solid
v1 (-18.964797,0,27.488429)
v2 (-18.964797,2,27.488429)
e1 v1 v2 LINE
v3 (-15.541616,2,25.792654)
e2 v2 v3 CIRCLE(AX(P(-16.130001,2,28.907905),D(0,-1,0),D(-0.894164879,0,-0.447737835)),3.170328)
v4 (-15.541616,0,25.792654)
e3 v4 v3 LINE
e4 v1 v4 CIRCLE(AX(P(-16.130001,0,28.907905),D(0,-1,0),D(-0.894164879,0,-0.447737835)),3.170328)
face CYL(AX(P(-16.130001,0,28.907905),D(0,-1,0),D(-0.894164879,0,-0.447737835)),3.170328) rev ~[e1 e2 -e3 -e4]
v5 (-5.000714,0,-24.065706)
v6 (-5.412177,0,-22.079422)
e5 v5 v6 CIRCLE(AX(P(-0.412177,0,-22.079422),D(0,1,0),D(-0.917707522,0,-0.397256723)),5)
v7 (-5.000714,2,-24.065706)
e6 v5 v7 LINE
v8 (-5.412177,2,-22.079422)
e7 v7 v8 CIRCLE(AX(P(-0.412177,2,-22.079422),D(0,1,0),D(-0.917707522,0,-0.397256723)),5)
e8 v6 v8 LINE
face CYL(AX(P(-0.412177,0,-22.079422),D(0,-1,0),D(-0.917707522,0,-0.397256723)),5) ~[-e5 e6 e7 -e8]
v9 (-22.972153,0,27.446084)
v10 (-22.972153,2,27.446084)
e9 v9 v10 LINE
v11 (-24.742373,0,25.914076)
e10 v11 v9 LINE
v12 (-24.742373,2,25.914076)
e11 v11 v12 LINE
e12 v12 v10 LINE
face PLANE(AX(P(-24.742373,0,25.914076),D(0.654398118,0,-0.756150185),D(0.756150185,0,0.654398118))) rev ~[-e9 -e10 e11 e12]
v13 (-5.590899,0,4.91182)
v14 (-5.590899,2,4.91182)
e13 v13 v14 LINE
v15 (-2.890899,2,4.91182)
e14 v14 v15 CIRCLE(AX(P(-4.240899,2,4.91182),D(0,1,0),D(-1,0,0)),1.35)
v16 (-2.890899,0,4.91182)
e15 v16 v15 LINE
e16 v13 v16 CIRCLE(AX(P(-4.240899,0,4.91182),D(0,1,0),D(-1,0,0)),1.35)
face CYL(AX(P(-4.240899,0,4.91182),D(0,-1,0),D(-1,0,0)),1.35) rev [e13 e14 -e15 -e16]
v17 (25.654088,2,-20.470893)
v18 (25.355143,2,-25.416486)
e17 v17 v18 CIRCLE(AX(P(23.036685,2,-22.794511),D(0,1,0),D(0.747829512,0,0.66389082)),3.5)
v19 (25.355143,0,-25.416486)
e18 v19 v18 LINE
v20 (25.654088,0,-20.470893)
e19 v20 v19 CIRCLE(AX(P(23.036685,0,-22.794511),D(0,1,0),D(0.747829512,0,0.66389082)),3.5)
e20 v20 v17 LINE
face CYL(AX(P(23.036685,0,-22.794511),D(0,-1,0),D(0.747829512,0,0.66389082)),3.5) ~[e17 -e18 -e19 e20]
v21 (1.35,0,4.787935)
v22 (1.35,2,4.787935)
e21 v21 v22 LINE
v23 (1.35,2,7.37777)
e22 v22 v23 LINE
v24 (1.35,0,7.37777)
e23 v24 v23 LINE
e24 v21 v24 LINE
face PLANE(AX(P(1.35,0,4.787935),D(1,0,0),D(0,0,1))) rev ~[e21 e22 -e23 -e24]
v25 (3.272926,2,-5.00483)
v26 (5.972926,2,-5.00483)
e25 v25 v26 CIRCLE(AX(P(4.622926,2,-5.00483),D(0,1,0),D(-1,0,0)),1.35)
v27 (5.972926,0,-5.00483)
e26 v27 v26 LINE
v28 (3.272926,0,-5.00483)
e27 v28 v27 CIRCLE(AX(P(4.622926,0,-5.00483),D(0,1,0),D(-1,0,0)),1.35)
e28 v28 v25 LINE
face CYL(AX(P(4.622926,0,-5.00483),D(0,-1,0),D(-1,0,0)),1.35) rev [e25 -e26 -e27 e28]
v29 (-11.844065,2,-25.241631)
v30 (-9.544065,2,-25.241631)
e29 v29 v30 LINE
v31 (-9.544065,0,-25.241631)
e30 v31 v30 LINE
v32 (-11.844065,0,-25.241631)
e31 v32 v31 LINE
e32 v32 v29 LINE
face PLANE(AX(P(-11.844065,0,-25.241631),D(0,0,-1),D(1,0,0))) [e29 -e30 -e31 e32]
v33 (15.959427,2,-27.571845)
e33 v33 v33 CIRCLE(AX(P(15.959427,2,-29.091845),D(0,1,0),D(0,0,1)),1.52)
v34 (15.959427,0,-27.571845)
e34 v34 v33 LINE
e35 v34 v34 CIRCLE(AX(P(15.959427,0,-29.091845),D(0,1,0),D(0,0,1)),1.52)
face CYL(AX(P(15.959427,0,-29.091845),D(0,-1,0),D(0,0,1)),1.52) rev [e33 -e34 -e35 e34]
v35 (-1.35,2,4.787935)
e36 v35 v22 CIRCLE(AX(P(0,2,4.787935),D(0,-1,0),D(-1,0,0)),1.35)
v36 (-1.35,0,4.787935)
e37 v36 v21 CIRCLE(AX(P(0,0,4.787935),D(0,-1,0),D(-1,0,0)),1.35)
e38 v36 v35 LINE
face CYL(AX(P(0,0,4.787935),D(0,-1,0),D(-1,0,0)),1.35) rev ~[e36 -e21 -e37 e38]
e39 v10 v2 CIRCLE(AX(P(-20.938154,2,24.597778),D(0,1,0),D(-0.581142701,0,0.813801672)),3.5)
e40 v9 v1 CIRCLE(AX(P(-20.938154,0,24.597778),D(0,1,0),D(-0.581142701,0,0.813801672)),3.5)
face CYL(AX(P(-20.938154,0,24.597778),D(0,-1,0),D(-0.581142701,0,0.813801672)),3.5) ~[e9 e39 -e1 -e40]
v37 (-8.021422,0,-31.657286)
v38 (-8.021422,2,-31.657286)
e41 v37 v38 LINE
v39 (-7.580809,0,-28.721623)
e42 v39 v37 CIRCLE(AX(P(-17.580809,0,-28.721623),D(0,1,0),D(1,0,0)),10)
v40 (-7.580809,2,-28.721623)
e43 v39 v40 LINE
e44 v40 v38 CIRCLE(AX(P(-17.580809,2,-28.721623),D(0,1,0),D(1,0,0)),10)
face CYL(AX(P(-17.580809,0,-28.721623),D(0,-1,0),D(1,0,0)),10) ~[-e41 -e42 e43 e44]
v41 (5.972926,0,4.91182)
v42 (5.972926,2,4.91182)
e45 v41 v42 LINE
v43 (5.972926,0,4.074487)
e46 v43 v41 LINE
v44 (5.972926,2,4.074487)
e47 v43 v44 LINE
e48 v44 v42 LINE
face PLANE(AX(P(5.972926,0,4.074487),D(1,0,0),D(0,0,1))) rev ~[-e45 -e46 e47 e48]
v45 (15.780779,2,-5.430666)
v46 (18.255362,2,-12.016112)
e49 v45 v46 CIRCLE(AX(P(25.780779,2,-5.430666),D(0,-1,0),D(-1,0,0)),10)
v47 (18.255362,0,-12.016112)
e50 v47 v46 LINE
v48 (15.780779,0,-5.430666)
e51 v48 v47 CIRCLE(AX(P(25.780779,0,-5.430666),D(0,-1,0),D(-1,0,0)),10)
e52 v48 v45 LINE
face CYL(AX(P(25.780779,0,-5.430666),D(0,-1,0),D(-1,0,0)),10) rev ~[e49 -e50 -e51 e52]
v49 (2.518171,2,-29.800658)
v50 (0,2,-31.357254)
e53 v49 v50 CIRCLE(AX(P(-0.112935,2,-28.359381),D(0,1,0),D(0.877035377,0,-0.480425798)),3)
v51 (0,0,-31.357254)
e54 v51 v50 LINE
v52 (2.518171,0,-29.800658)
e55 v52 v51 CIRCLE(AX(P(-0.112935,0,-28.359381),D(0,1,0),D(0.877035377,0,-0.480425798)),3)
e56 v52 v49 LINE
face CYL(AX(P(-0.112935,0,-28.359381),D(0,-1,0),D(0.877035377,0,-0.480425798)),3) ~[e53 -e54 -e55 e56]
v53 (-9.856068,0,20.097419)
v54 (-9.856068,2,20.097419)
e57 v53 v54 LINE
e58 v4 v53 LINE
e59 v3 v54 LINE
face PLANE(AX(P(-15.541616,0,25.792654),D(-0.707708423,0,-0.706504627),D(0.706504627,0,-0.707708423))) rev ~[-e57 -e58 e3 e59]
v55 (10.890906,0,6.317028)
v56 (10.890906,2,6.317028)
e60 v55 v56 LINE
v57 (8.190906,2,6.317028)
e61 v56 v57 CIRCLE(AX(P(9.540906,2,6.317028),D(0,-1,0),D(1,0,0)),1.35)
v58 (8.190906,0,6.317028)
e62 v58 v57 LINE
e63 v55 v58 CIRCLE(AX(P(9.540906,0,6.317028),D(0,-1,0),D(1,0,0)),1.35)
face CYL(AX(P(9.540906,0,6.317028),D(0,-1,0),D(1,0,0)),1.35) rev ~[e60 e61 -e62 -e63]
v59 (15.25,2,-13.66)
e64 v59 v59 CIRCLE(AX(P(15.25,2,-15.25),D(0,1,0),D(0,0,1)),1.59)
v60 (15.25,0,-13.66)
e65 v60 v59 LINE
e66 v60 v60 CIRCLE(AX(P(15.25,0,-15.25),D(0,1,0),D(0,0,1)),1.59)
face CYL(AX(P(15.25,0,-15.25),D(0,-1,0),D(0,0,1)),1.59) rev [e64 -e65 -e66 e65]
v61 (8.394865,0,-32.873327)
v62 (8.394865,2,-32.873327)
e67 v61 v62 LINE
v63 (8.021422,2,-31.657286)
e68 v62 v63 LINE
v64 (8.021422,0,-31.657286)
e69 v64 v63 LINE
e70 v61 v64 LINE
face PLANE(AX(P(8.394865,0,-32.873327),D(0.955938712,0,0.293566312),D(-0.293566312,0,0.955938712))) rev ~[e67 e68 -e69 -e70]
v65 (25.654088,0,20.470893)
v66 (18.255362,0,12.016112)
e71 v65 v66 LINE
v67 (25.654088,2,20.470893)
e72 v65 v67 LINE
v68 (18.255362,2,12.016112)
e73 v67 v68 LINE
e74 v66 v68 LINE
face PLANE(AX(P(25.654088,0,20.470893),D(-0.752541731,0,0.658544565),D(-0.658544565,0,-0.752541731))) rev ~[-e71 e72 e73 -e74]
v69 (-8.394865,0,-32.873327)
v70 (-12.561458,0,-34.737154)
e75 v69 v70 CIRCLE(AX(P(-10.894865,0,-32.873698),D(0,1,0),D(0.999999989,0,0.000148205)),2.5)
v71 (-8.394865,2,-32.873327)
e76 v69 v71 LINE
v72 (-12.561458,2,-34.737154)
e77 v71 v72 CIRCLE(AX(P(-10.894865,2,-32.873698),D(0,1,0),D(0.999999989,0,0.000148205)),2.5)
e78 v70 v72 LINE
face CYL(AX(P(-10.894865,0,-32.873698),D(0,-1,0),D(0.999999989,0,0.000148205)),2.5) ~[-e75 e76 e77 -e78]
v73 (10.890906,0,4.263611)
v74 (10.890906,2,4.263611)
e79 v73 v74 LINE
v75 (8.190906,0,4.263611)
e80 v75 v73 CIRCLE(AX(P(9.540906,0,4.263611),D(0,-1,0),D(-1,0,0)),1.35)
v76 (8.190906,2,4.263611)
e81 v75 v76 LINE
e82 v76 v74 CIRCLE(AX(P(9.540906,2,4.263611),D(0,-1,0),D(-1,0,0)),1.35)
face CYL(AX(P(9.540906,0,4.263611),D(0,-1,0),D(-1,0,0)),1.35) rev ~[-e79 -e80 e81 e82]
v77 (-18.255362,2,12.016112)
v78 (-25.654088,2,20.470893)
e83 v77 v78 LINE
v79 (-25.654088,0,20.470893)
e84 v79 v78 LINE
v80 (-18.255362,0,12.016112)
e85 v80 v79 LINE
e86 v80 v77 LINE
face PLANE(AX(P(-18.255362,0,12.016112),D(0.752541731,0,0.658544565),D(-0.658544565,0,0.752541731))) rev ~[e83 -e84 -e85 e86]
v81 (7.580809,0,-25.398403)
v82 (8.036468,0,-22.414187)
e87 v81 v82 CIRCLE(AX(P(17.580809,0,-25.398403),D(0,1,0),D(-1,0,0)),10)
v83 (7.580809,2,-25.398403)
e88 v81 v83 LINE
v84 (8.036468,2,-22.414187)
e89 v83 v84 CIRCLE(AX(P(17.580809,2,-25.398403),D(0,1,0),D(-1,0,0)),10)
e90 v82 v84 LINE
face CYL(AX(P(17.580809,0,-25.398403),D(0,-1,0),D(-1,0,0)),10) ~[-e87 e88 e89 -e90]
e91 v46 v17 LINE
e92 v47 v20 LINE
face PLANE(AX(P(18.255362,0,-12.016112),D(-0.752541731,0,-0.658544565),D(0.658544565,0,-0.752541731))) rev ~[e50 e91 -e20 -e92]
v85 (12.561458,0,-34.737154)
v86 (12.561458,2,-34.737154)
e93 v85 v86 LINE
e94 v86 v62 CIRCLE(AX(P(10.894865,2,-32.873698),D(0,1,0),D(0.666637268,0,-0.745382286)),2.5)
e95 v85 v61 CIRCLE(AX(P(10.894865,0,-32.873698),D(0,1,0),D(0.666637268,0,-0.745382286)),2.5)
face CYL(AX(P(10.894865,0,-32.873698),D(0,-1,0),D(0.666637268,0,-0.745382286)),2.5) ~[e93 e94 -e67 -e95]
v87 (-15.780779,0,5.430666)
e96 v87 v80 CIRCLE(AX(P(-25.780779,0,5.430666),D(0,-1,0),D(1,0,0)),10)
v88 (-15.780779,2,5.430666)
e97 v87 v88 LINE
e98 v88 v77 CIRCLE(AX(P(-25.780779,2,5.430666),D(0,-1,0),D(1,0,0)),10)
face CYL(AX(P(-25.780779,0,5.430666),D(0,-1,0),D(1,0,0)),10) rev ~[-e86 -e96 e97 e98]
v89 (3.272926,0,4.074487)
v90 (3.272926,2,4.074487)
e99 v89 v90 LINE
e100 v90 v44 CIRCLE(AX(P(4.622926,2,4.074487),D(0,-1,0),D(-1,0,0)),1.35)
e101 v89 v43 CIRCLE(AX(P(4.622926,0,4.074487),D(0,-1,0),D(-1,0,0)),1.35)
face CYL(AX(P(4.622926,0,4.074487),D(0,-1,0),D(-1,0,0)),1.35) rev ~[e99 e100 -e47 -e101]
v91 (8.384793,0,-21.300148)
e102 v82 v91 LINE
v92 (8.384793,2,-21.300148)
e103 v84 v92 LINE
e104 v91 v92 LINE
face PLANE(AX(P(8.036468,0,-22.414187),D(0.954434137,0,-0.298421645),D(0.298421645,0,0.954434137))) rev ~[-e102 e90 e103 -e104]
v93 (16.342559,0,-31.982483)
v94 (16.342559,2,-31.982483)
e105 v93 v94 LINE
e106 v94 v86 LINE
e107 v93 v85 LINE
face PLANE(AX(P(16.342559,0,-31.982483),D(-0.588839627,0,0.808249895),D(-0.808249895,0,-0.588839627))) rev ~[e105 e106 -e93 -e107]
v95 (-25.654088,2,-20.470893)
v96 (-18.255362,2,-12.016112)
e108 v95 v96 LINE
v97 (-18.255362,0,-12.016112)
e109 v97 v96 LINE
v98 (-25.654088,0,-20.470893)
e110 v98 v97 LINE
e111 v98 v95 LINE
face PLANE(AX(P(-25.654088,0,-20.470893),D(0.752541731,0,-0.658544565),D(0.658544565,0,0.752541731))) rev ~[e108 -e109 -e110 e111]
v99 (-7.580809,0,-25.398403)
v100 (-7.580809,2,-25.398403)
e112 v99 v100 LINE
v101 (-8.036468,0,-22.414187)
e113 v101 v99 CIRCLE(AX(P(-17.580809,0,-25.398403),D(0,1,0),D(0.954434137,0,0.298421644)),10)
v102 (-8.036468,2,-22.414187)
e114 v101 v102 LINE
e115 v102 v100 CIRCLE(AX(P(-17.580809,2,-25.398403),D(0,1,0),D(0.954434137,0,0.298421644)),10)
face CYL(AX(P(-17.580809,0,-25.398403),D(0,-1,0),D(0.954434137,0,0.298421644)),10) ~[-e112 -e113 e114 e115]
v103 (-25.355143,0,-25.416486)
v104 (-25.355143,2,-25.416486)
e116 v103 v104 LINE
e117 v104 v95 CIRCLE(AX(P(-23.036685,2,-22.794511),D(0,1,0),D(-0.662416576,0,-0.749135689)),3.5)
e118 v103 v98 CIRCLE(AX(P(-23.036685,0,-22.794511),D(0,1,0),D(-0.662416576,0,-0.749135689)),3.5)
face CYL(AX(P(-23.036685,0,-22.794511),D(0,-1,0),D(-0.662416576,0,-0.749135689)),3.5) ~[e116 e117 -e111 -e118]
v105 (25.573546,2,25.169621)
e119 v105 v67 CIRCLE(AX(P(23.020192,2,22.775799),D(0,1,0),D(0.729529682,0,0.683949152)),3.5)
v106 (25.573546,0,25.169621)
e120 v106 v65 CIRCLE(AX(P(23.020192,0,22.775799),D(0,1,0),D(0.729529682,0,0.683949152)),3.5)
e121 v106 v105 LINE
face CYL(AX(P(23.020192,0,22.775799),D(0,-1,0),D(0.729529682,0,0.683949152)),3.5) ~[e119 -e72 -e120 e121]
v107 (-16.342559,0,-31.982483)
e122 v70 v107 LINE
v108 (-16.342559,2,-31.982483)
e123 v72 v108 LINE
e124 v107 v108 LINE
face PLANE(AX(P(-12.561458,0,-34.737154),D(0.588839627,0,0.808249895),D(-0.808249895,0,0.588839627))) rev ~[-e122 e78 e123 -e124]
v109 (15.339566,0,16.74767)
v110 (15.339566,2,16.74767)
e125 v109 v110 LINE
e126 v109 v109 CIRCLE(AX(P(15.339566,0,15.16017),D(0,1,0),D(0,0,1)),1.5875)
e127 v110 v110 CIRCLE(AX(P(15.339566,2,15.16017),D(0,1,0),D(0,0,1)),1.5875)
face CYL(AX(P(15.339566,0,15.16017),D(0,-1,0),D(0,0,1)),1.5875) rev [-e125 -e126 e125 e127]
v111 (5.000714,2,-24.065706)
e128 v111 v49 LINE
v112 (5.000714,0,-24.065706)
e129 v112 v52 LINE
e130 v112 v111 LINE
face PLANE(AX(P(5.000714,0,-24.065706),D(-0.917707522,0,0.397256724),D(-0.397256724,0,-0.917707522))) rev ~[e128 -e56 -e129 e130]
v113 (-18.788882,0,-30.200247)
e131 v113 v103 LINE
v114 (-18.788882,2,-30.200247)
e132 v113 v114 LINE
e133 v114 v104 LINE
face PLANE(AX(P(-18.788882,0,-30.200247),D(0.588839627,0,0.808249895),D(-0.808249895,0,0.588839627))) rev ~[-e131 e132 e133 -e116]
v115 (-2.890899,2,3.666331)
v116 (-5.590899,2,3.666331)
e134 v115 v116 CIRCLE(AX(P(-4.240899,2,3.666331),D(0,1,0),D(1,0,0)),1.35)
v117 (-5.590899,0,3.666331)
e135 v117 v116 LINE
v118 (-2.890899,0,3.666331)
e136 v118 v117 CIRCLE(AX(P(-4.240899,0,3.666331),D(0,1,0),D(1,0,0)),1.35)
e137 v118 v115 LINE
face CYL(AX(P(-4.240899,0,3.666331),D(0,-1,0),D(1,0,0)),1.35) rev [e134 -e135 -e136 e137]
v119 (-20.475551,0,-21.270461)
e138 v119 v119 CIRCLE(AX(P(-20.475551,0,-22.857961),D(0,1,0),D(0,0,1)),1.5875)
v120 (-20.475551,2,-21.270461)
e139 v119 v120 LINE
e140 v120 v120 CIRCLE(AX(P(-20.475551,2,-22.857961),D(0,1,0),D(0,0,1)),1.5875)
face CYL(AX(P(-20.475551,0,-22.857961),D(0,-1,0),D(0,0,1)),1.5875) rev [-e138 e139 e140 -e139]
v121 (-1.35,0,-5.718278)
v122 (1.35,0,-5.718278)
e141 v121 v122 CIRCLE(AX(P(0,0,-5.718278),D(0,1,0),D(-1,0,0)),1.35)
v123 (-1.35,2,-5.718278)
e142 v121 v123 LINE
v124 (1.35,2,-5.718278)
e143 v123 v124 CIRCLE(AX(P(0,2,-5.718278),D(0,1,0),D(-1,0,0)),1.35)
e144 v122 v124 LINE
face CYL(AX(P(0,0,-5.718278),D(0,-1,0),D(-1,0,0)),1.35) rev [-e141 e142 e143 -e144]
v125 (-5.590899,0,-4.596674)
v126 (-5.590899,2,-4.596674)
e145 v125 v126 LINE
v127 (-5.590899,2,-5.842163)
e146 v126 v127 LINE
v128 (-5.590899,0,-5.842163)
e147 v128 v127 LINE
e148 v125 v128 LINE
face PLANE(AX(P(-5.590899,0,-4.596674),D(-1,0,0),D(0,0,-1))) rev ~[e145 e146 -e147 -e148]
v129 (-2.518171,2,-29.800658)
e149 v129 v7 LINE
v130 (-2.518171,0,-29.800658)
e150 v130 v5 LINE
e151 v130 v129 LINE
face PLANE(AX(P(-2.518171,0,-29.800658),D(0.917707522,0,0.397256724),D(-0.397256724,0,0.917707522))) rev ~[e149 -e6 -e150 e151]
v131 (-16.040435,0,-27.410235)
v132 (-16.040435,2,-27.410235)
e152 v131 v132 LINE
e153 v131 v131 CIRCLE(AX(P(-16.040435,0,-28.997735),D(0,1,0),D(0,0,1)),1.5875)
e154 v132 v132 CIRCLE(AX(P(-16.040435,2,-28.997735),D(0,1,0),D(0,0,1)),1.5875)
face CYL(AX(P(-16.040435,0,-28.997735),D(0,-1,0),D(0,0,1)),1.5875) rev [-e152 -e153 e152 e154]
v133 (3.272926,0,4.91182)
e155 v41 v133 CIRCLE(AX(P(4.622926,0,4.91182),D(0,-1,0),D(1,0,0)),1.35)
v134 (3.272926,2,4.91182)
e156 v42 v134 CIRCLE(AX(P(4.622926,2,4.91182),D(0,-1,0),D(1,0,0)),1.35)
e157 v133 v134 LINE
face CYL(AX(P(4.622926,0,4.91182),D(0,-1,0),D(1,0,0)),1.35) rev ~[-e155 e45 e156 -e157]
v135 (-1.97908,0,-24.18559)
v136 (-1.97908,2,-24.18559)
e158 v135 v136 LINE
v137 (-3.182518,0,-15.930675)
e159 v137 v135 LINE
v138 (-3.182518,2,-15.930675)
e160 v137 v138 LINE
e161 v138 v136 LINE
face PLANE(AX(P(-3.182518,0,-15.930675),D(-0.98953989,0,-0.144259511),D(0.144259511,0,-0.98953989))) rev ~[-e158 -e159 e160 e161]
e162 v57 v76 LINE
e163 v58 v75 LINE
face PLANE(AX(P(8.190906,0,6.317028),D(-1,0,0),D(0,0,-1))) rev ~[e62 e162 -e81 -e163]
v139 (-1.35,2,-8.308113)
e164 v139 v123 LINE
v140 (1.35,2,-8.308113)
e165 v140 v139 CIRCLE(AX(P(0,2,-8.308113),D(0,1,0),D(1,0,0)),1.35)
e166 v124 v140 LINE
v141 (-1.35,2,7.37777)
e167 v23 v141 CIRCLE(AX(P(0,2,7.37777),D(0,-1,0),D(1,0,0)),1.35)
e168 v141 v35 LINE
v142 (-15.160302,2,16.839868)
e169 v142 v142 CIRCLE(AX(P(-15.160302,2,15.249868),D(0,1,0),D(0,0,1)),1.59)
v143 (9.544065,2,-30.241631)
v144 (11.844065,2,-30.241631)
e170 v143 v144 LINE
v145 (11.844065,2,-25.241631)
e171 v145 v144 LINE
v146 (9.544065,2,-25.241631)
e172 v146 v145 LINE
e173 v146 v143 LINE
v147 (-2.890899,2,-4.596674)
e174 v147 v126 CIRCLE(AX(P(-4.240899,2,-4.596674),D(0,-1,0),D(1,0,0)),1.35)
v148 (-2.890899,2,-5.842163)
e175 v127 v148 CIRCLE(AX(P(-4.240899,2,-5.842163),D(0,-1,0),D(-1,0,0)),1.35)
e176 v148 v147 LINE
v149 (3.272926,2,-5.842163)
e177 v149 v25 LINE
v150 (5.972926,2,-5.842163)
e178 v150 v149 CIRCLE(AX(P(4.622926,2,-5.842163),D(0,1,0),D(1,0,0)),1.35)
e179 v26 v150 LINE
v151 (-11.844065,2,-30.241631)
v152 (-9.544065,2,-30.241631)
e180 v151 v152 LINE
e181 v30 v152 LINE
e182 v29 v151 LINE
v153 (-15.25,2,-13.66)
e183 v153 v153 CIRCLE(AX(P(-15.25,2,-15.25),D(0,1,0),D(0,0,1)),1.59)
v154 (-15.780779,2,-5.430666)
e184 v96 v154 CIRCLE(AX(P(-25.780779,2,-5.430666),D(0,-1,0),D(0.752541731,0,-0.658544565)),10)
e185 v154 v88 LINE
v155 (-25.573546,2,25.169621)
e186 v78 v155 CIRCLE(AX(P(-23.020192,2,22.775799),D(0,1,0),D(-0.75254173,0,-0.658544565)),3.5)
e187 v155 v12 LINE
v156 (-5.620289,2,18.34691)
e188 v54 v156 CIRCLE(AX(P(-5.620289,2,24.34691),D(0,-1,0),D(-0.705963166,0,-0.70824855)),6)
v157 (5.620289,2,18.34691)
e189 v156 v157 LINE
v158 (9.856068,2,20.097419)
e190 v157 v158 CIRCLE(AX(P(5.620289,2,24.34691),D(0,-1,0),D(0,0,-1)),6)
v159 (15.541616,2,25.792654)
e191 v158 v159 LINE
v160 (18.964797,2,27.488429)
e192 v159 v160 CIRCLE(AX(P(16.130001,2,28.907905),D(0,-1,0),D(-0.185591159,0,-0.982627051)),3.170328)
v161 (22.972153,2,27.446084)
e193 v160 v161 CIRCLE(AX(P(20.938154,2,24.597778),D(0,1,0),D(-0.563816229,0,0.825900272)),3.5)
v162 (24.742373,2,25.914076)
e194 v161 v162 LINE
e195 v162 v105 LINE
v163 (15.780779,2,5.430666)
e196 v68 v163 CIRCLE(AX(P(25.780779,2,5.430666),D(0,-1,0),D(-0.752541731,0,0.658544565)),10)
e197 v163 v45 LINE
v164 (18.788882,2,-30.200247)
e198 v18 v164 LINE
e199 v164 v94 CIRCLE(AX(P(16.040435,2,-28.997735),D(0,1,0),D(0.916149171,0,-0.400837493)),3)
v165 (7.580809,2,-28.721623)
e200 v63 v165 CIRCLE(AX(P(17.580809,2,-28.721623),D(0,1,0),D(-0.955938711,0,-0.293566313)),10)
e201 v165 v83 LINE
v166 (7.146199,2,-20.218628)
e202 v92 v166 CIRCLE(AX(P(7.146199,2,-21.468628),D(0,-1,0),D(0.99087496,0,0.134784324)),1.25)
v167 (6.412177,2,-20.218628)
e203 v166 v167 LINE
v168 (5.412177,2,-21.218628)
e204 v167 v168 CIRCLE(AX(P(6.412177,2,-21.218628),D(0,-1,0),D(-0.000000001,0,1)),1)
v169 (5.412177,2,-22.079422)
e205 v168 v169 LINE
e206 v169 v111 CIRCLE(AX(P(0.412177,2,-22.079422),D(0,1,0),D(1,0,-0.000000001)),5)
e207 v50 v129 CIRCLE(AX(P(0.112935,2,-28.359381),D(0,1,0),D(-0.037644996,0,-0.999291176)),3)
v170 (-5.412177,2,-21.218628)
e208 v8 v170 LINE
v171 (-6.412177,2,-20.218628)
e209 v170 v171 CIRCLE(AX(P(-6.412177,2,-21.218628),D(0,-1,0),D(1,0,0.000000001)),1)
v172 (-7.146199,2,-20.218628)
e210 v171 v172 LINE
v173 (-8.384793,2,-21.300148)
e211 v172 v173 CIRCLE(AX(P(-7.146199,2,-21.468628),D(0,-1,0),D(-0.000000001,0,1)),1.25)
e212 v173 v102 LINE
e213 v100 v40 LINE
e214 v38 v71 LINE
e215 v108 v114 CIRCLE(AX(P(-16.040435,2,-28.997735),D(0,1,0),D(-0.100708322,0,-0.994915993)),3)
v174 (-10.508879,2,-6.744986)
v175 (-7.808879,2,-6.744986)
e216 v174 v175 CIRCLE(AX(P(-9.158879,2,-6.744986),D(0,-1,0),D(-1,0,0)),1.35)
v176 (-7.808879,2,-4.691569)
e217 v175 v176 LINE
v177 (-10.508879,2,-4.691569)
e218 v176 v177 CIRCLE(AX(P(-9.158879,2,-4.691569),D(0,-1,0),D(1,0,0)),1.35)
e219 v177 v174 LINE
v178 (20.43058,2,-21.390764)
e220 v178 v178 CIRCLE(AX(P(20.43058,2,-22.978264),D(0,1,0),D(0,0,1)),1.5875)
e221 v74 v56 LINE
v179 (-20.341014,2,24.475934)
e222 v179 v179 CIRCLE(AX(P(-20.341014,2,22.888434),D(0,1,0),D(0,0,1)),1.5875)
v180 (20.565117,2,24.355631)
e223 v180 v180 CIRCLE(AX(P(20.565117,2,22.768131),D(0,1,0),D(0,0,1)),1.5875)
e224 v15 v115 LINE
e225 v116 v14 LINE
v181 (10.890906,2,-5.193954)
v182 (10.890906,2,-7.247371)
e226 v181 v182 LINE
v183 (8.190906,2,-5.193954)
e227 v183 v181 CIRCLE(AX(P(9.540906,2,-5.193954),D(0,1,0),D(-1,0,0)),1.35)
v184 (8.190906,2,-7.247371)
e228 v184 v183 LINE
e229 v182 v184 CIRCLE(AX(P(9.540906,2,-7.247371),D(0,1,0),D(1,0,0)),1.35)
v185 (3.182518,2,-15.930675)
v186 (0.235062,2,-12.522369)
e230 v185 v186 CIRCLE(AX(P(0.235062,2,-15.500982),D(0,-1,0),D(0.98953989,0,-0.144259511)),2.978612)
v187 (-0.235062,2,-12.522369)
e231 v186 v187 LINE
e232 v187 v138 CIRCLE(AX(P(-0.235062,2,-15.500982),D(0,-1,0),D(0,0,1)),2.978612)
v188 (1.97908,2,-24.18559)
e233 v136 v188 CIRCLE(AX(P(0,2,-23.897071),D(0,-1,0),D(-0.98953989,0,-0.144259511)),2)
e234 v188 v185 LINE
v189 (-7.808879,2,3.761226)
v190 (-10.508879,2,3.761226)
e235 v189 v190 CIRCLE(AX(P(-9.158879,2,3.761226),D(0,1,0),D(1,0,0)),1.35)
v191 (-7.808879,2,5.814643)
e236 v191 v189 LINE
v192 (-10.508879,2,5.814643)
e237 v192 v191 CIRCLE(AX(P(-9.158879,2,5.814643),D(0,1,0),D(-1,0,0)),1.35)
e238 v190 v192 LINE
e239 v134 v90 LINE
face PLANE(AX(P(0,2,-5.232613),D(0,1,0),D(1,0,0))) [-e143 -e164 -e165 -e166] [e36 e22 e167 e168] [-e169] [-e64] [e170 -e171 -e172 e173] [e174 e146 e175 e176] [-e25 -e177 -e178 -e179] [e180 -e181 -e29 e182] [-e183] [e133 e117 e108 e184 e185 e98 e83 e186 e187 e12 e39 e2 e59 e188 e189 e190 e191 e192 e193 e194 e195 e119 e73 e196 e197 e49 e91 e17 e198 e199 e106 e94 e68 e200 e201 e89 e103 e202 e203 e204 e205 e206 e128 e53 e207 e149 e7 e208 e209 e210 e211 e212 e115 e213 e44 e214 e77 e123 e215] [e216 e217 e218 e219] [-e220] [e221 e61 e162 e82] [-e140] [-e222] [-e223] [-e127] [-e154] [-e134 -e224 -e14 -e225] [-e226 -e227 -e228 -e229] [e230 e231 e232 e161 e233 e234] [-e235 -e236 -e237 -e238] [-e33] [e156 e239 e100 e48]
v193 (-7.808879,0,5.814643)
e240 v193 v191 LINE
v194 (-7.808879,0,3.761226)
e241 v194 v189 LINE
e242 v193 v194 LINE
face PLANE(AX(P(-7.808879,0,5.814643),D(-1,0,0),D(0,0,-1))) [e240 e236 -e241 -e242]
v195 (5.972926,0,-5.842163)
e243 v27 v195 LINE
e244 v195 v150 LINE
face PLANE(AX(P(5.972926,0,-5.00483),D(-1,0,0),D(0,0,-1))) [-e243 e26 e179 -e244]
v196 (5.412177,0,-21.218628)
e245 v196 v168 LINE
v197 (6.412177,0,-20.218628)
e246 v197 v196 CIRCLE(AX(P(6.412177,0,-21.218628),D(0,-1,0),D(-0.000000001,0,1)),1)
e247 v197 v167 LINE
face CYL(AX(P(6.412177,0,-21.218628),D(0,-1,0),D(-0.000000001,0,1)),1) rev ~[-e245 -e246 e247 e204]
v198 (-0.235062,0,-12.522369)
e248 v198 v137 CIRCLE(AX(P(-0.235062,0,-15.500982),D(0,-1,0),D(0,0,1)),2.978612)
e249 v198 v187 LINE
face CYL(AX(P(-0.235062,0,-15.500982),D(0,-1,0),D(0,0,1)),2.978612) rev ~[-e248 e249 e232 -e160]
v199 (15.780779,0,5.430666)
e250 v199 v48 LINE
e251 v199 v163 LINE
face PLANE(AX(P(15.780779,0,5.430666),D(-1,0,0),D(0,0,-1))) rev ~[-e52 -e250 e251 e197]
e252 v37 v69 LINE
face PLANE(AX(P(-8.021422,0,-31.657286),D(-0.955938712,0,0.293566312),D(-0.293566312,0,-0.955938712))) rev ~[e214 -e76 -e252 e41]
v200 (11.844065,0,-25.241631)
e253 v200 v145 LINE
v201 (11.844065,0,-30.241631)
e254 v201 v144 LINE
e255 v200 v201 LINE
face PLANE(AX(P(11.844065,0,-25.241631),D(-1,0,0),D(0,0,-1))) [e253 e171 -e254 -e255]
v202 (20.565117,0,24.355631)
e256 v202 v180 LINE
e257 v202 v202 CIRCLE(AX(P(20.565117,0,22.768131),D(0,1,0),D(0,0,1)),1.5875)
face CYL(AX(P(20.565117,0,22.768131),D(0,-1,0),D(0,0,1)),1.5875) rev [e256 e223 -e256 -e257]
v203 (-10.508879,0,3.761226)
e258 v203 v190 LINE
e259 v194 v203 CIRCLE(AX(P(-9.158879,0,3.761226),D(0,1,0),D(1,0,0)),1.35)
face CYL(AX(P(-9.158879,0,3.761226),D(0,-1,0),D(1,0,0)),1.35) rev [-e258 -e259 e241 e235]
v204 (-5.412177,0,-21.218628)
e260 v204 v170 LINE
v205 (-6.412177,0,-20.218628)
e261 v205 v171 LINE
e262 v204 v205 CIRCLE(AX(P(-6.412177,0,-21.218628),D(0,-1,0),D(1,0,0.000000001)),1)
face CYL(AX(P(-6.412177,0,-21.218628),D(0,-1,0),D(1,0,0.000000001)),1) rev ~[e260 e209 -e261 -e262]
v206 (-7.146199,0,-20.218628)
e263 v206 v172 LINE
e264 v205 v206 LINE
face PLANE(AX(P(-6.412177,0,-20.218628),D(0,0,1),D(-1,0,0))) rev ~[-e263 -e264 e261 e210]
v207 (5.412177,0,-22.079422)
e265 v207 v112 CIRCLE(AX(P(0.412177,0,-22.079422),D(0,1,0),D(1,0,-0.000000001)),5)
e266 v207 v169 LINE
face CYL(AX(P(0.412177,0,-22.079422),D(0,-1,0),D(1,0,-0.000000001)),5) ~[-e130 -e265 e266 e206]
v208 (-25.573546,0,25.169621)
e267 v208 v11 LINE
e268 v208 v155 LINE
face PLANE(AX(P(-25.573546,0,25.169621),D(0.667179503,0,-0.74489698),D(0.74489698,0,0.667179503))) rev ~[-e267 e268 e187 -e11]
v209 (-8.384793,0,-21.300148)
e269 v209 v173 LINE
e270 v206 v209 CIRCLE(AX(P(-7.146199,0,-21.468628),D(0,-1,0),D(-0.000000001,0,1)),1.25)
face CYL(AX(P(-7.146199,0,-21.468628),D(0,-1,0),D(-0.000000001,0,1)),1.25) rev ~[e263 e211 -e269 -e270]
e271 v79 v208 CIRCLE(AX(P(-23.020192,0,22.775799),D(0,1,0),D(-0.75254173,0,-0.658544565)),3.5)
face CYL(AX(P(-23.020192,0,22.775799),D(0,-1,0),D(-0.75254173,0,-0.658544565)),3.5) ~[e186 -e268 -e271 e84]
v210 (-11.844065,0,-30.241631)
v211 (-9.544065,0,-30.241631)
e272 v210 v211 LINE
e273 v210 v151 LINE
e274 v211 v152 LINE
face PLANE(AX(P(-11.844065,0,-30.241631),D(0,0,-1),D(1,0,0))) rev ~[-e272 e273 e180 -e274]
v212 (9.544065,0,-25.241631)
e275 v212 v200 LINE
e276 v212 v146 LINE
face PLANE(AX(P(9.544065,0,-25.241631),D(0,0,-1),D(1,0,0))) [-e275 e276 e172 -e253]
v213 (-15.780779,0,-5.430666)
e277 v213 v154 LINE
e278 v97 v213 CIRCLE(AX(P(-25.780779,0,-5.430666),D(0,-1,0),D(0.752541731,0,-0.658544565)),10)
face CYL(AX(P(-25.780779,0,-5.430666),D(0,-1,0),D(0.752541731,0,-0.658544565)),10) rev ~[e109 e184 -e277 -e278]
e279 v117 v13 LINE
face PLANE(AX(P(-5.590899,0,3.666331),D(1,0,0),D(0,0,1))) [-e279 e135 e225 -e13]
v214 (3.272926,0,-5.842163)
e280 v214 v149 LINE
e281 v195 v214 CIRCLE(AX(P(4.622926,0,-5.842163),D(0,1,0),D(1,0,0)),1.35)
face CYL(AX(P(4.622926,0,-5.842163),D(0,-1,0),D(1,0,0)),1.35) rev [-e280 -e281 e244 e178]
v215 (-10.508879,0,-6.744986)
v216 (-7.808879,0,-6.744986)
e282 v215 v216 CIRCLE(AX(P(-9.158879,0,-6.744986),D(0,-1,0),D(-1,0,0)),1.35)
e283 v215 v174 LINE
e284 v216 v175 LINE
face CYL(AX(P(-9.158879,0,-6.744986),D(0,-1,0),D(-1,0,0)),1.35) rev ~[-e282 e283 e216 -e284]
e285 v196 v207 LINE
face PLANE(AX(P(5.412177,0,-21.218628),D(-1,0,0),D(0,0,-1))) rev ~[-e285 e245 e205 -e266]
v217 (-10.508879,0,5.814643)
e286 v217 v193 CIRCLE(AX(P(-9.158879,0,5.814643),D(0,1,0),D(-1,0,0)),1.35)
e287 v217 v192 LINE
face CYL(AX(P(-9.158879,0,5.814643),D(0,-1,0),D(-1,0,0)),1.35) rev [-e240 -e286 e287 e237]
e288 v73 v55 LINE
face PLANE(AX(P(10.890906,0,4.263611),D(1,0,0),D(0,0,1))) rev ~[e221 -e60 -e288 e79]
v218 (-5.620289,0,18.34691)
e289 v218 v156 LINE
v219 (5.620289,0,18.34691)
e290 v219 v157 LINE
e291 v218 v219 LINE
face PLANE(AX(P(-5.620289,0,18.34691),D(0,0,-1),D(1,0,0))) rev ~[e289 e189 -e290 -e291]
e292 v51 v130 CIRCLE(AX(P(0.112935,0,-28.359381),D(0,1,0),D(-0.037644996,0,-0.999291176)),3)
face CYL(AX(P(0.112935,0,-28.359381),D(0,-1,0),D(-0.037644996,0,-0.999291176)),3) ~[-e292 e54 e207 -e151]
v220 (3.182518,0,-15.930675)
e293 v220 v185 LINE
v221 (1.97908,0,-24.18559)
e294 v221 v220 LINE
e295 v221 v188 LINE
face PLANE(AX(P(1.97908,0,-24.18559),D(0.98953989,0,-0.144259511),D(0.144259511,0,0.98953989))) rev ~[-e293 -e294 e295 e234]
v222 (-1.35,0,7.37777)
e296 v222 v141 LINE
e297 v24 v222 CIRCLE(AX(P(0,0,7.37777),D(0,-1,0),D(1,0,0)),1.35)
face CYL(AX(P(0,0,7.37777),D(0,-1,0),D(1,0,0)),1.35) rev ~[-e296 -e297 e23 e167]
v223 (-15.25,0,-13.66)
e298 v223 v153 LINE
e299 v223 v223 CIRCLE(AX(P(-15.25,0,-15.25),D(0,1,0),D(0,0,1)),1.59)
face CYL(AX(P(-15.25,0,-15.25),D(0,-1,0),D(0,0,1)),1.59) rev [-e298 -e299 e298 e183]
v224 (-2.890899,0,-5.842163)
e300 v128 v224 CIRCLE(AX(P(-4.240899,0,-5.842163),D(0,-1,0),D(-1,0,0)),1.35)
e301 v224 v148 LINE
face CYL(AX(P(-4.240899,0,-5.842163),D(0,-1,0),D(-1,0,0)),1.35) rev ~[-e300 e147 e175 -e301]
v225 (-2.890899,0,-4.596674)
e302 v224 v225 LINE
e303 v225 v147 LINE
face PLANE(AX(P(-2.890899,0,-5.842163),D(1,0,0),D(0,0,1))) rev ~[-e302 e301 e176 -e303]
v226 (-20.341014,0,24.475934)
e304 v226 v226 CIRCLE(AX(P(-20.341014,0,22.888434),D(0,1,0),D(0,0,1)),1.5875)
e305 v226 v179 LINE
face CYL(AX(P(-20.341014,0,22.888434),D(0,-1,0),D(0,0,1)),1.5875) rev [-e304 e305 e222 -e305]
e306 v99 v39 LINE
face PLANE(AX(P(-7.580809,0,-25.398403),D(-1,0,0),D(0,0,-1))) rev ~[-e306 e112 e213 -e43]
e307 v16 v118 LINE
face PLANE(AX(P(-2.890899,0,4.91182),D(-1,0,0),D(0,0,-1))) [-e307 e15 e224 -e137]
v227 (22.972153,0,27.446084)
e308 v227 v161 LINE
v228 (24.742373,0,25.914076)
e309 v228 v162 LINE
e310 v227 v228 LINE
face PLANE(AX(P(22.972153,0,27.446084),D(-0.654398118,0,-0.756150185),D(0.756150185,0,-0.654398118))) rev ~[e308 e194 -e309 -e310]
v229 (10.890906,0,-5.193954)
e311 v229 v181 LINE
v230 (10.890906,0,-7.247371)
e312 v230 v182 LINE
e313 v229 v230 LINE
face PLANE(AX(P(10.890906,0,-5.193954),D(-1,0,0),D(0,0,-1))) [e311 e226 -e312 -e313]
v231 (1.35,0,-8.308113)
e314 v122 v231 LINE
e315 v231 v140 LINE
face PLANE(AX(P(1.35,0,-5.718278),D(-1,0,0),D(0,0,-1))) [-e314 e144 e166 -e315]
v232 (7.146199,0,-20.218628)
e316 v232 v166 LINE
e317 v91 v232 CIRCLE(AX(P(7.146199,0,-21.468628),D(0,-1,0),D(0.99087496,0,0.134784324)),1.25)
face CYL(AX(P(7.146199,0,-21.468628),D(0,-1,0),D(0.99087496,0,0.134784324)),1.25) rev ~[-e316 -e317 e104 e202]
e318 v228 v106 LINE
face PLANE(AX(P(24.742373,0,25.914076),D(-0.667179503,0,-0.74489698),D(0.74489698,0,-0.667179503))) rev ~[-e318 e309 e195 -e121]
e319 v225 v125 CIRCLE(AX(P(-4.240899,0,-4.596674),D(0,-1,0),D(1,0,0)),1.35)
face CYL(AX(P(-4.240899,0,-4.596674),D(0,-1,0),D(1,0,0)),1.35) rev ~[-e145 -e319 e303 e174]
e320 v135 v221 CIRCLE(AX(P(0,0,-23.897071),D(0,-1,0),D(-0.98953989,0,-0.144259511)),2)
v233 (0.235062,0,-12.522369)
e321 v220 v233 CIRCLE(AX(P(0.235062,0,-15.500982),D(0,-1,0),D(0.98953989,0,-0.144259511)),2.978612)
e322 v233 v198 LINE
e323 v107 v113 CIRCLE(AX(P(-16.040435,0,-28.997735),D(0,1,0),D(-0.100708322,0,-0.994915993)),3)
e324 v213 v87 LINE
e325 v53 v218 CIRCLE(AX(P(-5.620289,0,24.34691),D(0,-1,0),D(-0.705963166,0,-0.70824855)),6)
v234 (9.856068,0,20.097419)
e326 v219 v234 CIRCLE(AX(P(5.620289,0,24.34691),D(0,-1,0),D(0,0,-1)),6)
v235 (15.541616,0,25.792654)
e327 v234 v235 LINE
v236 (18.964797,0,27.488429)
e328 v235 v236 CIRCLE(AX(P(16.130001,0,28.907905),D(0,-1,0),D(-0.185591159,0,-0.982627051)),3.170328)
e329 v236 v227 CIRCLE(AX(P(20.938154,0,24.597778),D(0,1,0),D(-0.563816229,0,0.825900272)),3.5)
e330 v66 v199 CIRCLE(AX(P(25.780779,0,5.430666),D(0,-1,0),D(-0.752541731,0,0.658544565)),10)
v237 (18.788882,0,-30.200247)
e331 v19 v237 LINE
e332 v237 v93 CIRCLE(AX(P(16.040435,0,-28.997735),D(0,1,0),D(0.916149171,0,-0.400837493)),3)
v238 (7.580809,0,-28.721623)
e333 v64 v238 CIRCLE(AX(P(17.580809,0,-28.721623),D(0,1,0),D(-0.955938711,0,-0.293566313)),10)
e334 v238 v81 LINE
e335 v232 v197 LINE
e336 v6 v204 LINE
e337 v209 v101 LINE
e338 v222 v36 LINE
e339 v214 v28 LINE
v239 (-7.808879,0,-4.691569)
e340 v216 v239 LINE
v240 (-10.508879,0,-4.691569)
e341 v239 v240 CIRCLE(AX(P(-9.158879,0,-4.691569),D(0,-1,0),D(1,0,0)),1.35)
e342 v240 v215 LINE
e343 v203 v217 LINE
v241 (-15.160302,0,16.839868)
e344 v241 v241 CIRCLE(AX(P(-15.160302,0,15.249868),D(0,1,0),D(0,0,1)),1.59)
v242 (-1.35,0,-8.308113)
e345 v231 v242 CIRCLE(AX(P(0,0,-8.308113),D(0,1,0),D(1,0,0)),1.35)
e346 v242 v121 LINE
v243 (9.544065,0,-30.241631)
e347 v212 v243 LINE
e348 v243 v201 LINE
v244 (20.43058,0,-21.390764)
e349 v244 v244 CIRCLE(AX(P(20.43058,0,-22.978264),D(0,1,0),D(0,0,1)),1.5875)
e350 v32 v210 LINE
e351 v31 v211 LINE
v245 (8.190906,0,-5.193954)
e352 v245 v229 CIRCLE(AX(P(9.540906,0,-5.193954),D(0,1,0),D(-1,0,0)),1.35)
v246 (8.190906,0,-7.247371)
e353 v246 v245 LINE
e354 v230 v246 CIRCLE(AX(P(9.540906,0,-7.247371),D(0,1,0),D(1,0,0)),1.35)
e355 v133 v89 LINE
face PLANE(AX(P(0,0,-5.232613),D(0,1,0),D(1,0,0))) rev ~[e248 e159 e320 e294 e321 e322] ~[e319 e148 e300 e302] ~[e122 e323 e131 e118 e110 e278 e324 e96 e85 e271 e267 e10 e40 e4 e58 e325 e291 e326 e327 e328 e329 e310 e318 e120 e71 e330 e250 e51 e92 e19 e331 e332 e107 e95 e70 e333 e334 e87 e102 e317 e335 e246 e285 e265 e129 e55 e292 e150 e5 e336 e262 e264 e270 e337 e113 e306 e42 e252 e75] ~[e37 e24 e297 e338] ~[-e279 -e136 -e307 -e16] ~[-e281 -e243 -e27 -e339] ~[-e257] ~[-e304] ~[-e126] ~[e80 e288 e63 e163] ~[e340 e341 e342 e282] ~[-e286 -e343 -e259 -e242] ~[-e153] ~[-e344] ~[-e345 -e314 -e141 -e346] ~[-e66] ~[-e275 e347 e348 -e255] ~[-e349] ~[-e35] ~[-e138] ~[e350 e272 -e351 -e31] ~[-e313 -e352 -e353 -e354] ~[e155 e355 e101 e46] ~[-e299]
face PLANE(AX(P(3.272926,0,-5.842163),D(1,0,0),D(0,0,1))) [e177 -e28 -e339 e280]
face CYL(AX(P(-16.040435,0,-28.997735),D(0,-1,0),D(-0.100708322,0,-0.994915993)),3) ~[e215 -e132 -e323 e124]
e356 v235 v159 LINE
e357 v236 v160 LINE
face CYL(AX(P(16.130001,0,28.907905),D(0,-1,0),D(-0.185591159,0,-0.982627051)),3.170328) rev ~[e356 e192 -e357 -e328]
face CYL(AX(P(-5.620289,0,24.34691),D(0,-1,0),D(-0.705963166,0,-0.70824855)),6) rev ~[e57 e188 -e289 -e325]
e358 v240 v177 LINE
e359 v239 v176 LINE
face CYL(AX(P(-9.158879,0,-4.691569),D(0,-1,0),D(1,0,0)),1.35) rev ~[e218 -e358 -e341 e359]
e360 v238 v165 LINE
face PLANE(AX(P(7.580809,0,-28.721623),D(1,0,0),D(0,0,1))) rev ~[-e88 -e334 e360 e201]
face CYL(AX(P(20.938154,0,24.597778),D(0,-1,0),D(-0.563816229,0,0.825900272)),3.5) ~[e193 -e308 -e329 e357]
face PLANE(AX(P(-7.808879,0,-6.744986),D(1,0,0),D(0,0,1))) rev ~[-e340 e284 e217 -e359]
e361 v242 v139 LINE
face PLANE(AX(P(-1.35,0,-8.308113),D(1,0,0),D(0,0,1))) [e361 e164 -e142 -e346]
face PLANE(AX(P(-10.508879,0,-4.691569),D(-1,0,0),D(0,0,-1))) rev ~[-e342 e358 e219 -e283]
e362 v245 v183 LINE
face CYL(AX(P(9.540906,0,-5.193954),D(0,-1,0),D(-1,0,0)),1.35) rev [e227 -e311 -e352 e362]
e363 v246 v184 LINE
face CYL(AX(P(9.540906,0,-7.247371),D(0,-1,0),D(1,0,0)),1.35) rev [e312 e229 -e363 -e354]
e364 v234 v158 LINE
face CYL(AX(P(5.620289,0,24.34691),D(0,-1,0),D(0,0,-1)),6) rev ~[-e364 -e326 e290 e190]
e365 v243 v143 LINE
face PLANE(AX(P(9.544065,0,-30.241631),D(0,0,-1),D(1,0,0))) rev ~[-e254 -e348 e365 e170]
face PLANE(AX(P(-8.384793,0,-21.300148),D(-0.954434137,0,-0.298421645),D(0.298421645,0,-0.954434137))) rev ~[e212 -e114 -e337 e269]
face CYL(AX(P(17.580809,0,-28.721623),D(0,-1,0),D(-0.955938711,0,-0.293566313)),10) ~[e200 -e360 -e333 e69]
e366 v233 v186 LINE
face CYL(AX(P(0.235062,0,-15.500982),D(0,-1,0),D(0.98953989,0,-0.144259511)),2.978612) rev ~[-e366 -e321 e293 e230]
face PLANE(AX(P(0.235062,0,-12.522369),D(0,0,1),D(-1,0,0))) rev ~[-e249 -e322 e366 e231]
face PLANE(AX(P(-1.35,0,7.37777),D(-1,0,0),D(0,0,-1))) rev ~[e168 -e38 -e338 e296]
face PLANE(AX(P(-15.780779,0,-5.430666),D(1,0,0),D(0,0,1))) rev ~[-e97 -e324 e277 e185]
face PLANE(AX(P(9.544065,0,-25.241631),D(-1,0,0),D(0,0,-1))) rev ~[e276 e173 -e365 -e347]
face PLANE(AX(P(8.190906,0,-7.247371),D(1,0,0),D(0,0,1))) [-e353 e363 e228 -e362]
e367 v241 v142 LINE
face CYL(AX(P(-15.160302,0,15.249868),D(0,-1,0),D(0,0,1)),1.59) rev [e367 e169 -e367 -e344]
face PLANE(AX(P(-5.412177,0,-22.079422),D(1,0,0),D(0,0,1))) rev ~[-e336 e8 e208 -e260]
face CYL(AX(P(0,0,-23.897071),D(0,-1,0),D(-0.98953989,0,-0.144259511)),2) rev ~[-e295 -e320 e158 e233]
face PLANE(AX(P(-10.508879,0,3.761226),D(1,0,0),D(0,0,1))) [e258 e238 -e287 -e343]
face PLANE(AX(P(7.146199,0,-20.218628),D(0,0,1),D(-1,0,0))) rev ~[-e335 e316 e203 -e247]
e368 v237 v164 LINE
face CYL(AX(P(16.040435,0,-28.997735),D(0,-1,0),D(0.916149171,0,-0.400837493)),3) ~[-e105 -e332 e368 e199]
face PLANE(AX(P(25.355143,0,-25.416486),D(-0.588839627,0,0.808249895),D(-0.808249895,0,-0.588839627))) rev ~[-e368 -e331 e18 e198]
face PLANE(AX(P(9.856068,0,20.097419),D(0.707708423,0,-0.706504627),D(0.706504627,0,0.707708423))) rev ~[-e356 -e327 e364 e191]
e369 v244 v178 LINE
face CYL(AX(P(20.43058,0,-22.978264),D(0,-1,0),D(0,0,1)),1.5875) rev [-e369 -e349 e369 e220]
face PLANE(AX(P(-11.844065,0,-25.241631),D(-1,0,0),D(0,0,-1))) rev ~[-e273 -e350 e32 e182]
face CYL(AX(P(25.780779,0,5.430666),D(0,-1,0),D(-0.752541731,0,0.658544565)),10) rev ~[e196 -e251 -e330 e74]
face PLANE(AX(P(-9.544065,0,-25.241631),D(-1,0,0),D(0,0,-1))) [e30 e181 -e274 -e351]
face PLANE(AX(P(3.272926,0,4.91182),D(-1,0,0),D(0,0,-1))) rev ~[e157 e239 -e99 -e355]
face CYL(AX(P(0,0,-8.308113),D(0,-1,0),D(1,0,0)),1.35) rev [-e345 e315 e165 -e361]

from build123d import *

# Parameters (mm, degrees)
CROQUIS2_R              = 1.59
CROQUIS2_R_2            = 1.5875
CROQUIS2_R_3            = 1.590000003
CROQUIS2_R_4            = 1.52
CROQUIS2_W              = 2.3
CROQUIS2_H              = 5
SALIENTE_EXTRUIR1_DEPTH = 2


with BuildPart() as part:
    # Croquis2 → Saliente-Extruir1 (new body)
    with BuildSketch(Plane(origin=(0, 0, 0), x_dir=(1, 0, 0), z_dir=(0, 1, 0))):
        with BuildLine():
            Line((-18.25536195, -12.016111847), (-25.654088229, -20.470893156))
            ThreePointArc((-25.654088229, -20.470893156), (-26.519678095, -22.835784768), (-25.57354606, -25.169621165))
            Line((-25.57354606, -25.169621165), (-24.742372568, -25.914075676))
            Line((-24.742372568, -25.914075676), (-22.972153409, -27.446083615))
            ThreePointArc((-22.972153409, -27.446083615), (-20.975135837, -28.097582379), (-18.96479715, -27.488428717))
            ThreePointArc((-18.96479715, -27.488428717), (-17.537304596, -26.067045976), (-15.541615973, -25.792654271))
            Line((-15.541615973, -25.792654271), (-9.856067815, -20.097418653))
            ThreePointArc((-9.856067815, -20.097418653), (-7.911909666, -18.801779306), (-5.620288821, -18.346909954))
            Line((-5.620288821, -18.346909954), (5.620288821, -18.346909954))
            ThreePointArc((5.620288821, -18.346909954), (7.911909666, -18.801779306), (9.856067815, -20.097418653))
            Line((9.856067815, -20.097418653), (15.541615973, -25.792654271))
            ThreePointArc((15.541615973, -25.792654271), (17.537304596, -26.067045976), (18.96479715, -27.488428717))
            ThreePointArc((18.96479715, -27.488428717), (20.975135837, -28.097582379), (22.972153409, -27.446083615))
            Line((22.972153409, -27.446083615), (24.742372568, -25.914075676))
            Line((24.742372568, -25.914075676), (25.57354606, -25.169621165))
            ThreePointArc((25.57354606, -25.169621165), (26.519678095, -22.835784768), (25.654088229, -20.470893156))
            Line((25.654088229, -20.470893156), (18.25536195, -12.016111847))
            ThreePointArc((18.25536195, -12.016111847), (16.419845193, -8.948181441), (15.780779256, -5.4306662))
            Line((15.780779256, -5.4306662), (15.780779256, 5.4306662))
            ThreePointArc((15.780779256, 5.4306662), (16.419845193, 8.948181441), (18.25536195, 12.016111847))
            Line((18.25536195, 12.016111847), (25.654088229, 20.470893156))
            ThreePointArc((25.654088229, 20.470893156), (26.530308227, 23.005689388), (25.355142951, 25.416485937))
            Line((25.355142951, 25.416485937), (18.78888202, 30.200247321))
            ThreePointArc((18.78888202, 30.200247321), (17.806953387, 31.422484528), (16.34255947, 31.982482822))
            Line((16.34255947, 31.982482822), (12.561458087, 34.737153551))
            ThreePointArc((12.561458087, 34.737153551), (9.874030074, 35.155779391), (8.394864944, 32.873327323))
            Line((8.394864944, 32.873327323), (8.021421807, 31.657286053))
            ThreePointArc((8.021421807, 31.657286053), (7.691575606, 30.205895283), (7.580808922, 28.721622928))
            Line((7.580808922, 28.721622928), (7.580808922, 25.398403441))
            ThreePointArc((7.580808922, 25.398403441), (7.695379905, 23.889001856), (8.036467551, 22.414186995))
            Line((8.036467551, 22.414186995), (8.38479276, 21.300147594))
            ThreePointArc((8.38479276, 21.300147594), (7.968360691, 20.527060023), (7.14619906, 20.218627998))
            Line((7.14619906, 20.218627998), (6.412176591, 20.218627998))
            ThreePointArc((6.412176591, 20.218627998), (5.70506981, 20.511521217), (5.412176591, 21.218627998))
            Line((5.412176591, 21.218627998), (5.412176591, 22.079422133))
            ThreePointArc((5.412176591, 22.079422133), (5.308230514, 23.093648922), (5.000714199, 24.065705754))
            Line((5.000714199, 24.065705754), (2.518171143, 29.800658234))
            ThreePointArc((2.518171143, 29.800658234), (1.464464231, 30.91120601), (0, 31.357254366))
            ThreePointArc((0, 31.357254366), (-1.464464231, 30.91120601), (-2.518171143, 29.800658234))
            Line((-2.518171143, 29.800658234), (-5.000714199, 24.065705754))
            ThreePointArc((-5.000714199, 24.065705754), (-5.308230514, 23.093648922), (-5.412176591, 22.079422133))
            Line((-5.412176591, 22.079422133), (-5.412176591, 21.218627998))
            ThreePointArc((-5.412176591, 21.218627998), (-5.70506981, 20.511521217), (-6.412176591, 20.218627998))
            Line((-6.412176591, 20.218627998), (-7.14619906, 20.218627998))
            ThreePointArc((-7.14619906, 20.218627998), (-7.968360691, 20.527060023), (-8.38479276, 21.300147594))
            Line((-8.38479276, 21.300147594), (-8.036467551, 22.414186995))
            ThreePointArc((-8.036467551, 22.414186995), (-7.695379905, 23.889001856), (-7.580808922, 25.398403441))
            Line((-7.580808922, 25.398403441), (-7.580808922, 28.721622928))
            ThreePointArc((-7.580808922, 28.721622928), (-7.691575606, 30.205895283), (-8.021421807, 31.657286053))
            Line((-8.021421807, 31.657286053), (-8.394864944, 32.873327323))
            ThreePointArc((-8.394864944, 32.873327323), (-9.874030074, 35.155779391), (-12.561458087, 34.737153551))
            Line((-12.561458087, 34.737153551), (-16.34255947, 31.982482822))
            ThreePointArc((-16.34255947, 31.982482822), (-17.806953387, 31.422484528), (-18.78888202, 30.200247321))
            Line((-18.78888202, 30.200247321), (-25.355142951, 25.416485937))
            ThreePointArc((-25.355142951, 25.416485937), (-26.530308227, 23.005689388), (-25.654088229, 20.470893156))
            Line((-25.654088229, 20.470893156), (-18.25536195, 12.016111847))
            ThreePointArc((-18.25536195, 12.016111847), (-16.419845193, 8.948181441), (-15.780779256, 5.4306662))
            Line((-15.780779256, 5.4306662), (-15.780779256, -5.4306662))
            ThreePointArc((-15.780779256, -5.4306662), (-16.419845193, -8.948181441), (-18.25536195, -12.016111847))
        make_face()
        with Locations(Location((-15.25, 15.25, 0), (0, 0, 270))):
            Circle(CROQUIS2_R, mode=Mode.SUBTRACT)
        with Locations(Location((-20.475551104, 22.857961383, 0), (0, 0, 270))):
            Circle(CROQUIS2_R_2, mode=Mode.SUBTRACT)
        with Locations(Location((-16.040434505, 28.997734842, 0), (0, 0, 270))):
            Circle(CROQUIS2_R_2, mode=Mode.SUBTRACT)
        with Locations(Location((15.25, 15.25, 0), (0, 0, 270))):
            Circle(CROQUIS2_R, mode=Mode.SUBTRACT)
        with Locations(Location((20.565117485, -22.768131206, 0), (0, 0, 270))):
            Circle(CROQUIS2_R_2, mode=Mode.SUBTRACT)
        with Locations(Location((-20.341013705, -22.888433679, 0), (0, 0, 270))):
            Circle(CROQUIS2_R_2, mode=Mode.SUBTRACT)
        with Locations(Location((-15.160301721, -15.249868102, 0), (0, 0, 270))):
            Circle(CROQUIS2_R_3, mode=Mode.SUBTRACT)
        with Locations(Location((15.339566381, -15.160169822, 0), (0, 0, 270))):
            Circle(CROQUIS2_R_2, mode=Mode.SUBTRACT)
        with Locations(Location((20.430580086, 22.978263857, 0), (0, 0, 270))):
            Circle(CROQUIS2_R_2, mode=Mode.SUBTRACT)
        with Locations(Location((15.959427109, 29.091844512, 0), (0, 0, 270))):
            Circle(CROQUIS2_R_4, mode=Mode.SUBTRACT)
        with BuildLine():
            Line((-1.35, 8.308113143), (-1.35, 5.718277528))
            ThreePointArc((-1.35, 5.718277528), (0, 4.368277528), (1.35, 5.718277528))
            Line((1.35, 5.718277528), (1.35, 8.308113143))
            ThreePointArc((1.35, 8.308113143), (0, 9.658113143), (-1.35, 8.308113143))
        make_face(mode=Mode.SUBTRACT)
        with BuildLine():
            Line((-7.808878773, -5.814643086), (-7.808878773, -3.761226184))
            ThreePointArc((-7.808878773, -3.761226184), (-9.158878773, -2.411226184), (-10.508878773, -3.761226184))
            Line((-10.508878773, -3.761226184), (-10.508878773, -5.814643086))
            ThreePointArc((-10.508878773, -5.814643086), (-9.158878773, -7.164643086), (-7.808878773, -5.814643086))
        make_face(mode=Mode.SUBTRACT)
        with BuildLine():
            Line((-2.890898672, -4.911820136), (-2.890898672, -3.666330657))
            ThreePointArc((-2.890898672, -3.666330657), (-4.240898672, -2.316330657), (-5.590898672, -3.666330657))
            Line((-5.590898672, -3.666330657), (-5.590898672, -4.911820136))
            ThreePointArc((-5.590898672, -4.911820136), (-4.240898672, -6.261820136), (-2.890898672, -4.911820136))
        make_face(mode=Mode.SUBTRACT)
        with BuildLine():
            Line((8.19090575, -6.317028248), (8.19090575, -4.263611346))
            ThreePointArc((8.19090575, -4.263611346), (9.54090575, -2.913611346), (10.89090575, -4.263611346))
            Line((10.89090575, -4.263611346), (10.89090575, -6.317028248))
            ThreePointArc((10.89090575, -6.317028248), (9.54090575, -7.667028248), (8.19090575, -6.317028248))
        make_face(mode=Mode.SUBTRACT)
        with BuildLine():
            Line((3.27292565, -4.911820136), (3.27292565, -4.074486775))
            ThreePointArc((3.27292565, -4.074486775), (4.62292565, -2.724486775), (5.97292565, -4.074486775))
            Line((5.97292565, -4.074486775), (5.97292565, -4.911820136))
            ThreePointArc((5.97292565, -4.911820136), (4.62292565, -6.261820136), (3.27292565, -4.911820136))
        make_face(mode=Mode.SUBTRACT)
        with Locations((-10.694064619, 27.741630955)):
            Rectangle(CROQUIS2_W, CROQUIS2_H, mode=Mode.SUBTRACT)
        with BuildLine():
            Line((-1.35, -7.377770249), (-1.35, -4.787934635))
            ThreePointArc((-1.35, -4.787934635), (0, -3.437934635), (1.35, -4.787934635))
            Line((1.35, -4.787934635), (1.35, -7.377770249))
            ThreePointArc((1.35, -7.377770249), (0, -8.727770249), (-1.35, -7.377770249))
        make_face(mode=Mode.SUBTRACT)
        with BuildLine():
            Line((0.235062276, 12.522369289), (-0.235062276, 12.522369289))
            ThreePointArc((-0.235062276, 12.522369289), (-2.488062555, 13.552617925), (-3.182517958, 15.930674736))
            Line((-3.182517958, 15.930674736), (-1.97907978, 24.185590314))
            ThreePointArc((-1.97907978, 24.185590314), (0, 25.897071292), (1.97907978, 24.185590314))
            Line((1.97907978, 24.185590314), (3.182517958, 15.930674736))
            ThreePointArc((3.182517958, 15.930674736), (2.488062555, 13.552617925), (0.235062276, 12.522369289))
        make_face(mode=Mode.SUBTRACT)
        with Locations((10.694064619, 27.741630955)):
            Rectangle(CROQUIS2_W, CROQUIS2_H, mode=Mode.SUBTRACT)
        with BuildLine():
            Line((3.27292565, 5.84216303), (3.27292565, 5.004829668))
            ThreePointArc((3.27292565, 5.004829668), (4.62292565, 3.654829668), (5.97292565, 5.004829668))
            Line((5.97292565, 5.004829668), (5.97292565, 5.84216303))
            ThreePointArc((5.97292565, 5.84216303), (4.62292565, 7.19216303), (3.27292565, 5.84216303))
        make_face(mode=Mode.SUBTRACT)
        with BuildLine():
            Line((8.19090575, 7.247371142), (8.19090575, 5.19395424))
            ThreePointArc((8.19090575, 5.19395424), (9.54090575, 3.84395424), (10.89090575, 5.19395424))
            Line((10.89090575, 5.19395424), (10.89090575, 7.247371142))
            ThreePointArc((10.89090575, 7.247371142), (9.54090575, 8.597371142), (8.19090575, 7.247371142))
        make_face(mode=Mode.SUBTRACT)
        with BuildLine():
            Line((-2.890898672, 5.84216303), (-2.890898672, 4.596673551))
            ThreePointArc((-2.890898672, 4.596673551), (-4.240898672, 3.246673551), (-5.590898672, 4.596673551))
            Line((-5.590898672, 4.596673551), (-5.590898672, 5.84216303))
            ThreePointArc((-5.590898672, 5.84216303), (-4.240898672, 7.19216303), (-2.890898672, 5.84216303))
        make_face(mode=Mode.SUBTRACT)
        with BuildLine():
            Line((-7.808878773, 6.744985979), (-7.808878773, 4.691569078))
            ThreePointArc((-7.808878773, 4.691569078), (-9.158878773, 3.341569078), (-10.508878773, 4.691569078))
            Line((-10.508878773, 4.691569078), (-10.508878773, 6.744985979))
            ThreePointArc((-10.508878773, 6.744985979), (-9.158878773, 8.094985979), (-7.808878773, 6.744985979))
        make_face(mode=Mode.SUBTRACT)
    extrude(amount=SALIENTE_EXTRUIR1_DEPTH)


solid = part.part
